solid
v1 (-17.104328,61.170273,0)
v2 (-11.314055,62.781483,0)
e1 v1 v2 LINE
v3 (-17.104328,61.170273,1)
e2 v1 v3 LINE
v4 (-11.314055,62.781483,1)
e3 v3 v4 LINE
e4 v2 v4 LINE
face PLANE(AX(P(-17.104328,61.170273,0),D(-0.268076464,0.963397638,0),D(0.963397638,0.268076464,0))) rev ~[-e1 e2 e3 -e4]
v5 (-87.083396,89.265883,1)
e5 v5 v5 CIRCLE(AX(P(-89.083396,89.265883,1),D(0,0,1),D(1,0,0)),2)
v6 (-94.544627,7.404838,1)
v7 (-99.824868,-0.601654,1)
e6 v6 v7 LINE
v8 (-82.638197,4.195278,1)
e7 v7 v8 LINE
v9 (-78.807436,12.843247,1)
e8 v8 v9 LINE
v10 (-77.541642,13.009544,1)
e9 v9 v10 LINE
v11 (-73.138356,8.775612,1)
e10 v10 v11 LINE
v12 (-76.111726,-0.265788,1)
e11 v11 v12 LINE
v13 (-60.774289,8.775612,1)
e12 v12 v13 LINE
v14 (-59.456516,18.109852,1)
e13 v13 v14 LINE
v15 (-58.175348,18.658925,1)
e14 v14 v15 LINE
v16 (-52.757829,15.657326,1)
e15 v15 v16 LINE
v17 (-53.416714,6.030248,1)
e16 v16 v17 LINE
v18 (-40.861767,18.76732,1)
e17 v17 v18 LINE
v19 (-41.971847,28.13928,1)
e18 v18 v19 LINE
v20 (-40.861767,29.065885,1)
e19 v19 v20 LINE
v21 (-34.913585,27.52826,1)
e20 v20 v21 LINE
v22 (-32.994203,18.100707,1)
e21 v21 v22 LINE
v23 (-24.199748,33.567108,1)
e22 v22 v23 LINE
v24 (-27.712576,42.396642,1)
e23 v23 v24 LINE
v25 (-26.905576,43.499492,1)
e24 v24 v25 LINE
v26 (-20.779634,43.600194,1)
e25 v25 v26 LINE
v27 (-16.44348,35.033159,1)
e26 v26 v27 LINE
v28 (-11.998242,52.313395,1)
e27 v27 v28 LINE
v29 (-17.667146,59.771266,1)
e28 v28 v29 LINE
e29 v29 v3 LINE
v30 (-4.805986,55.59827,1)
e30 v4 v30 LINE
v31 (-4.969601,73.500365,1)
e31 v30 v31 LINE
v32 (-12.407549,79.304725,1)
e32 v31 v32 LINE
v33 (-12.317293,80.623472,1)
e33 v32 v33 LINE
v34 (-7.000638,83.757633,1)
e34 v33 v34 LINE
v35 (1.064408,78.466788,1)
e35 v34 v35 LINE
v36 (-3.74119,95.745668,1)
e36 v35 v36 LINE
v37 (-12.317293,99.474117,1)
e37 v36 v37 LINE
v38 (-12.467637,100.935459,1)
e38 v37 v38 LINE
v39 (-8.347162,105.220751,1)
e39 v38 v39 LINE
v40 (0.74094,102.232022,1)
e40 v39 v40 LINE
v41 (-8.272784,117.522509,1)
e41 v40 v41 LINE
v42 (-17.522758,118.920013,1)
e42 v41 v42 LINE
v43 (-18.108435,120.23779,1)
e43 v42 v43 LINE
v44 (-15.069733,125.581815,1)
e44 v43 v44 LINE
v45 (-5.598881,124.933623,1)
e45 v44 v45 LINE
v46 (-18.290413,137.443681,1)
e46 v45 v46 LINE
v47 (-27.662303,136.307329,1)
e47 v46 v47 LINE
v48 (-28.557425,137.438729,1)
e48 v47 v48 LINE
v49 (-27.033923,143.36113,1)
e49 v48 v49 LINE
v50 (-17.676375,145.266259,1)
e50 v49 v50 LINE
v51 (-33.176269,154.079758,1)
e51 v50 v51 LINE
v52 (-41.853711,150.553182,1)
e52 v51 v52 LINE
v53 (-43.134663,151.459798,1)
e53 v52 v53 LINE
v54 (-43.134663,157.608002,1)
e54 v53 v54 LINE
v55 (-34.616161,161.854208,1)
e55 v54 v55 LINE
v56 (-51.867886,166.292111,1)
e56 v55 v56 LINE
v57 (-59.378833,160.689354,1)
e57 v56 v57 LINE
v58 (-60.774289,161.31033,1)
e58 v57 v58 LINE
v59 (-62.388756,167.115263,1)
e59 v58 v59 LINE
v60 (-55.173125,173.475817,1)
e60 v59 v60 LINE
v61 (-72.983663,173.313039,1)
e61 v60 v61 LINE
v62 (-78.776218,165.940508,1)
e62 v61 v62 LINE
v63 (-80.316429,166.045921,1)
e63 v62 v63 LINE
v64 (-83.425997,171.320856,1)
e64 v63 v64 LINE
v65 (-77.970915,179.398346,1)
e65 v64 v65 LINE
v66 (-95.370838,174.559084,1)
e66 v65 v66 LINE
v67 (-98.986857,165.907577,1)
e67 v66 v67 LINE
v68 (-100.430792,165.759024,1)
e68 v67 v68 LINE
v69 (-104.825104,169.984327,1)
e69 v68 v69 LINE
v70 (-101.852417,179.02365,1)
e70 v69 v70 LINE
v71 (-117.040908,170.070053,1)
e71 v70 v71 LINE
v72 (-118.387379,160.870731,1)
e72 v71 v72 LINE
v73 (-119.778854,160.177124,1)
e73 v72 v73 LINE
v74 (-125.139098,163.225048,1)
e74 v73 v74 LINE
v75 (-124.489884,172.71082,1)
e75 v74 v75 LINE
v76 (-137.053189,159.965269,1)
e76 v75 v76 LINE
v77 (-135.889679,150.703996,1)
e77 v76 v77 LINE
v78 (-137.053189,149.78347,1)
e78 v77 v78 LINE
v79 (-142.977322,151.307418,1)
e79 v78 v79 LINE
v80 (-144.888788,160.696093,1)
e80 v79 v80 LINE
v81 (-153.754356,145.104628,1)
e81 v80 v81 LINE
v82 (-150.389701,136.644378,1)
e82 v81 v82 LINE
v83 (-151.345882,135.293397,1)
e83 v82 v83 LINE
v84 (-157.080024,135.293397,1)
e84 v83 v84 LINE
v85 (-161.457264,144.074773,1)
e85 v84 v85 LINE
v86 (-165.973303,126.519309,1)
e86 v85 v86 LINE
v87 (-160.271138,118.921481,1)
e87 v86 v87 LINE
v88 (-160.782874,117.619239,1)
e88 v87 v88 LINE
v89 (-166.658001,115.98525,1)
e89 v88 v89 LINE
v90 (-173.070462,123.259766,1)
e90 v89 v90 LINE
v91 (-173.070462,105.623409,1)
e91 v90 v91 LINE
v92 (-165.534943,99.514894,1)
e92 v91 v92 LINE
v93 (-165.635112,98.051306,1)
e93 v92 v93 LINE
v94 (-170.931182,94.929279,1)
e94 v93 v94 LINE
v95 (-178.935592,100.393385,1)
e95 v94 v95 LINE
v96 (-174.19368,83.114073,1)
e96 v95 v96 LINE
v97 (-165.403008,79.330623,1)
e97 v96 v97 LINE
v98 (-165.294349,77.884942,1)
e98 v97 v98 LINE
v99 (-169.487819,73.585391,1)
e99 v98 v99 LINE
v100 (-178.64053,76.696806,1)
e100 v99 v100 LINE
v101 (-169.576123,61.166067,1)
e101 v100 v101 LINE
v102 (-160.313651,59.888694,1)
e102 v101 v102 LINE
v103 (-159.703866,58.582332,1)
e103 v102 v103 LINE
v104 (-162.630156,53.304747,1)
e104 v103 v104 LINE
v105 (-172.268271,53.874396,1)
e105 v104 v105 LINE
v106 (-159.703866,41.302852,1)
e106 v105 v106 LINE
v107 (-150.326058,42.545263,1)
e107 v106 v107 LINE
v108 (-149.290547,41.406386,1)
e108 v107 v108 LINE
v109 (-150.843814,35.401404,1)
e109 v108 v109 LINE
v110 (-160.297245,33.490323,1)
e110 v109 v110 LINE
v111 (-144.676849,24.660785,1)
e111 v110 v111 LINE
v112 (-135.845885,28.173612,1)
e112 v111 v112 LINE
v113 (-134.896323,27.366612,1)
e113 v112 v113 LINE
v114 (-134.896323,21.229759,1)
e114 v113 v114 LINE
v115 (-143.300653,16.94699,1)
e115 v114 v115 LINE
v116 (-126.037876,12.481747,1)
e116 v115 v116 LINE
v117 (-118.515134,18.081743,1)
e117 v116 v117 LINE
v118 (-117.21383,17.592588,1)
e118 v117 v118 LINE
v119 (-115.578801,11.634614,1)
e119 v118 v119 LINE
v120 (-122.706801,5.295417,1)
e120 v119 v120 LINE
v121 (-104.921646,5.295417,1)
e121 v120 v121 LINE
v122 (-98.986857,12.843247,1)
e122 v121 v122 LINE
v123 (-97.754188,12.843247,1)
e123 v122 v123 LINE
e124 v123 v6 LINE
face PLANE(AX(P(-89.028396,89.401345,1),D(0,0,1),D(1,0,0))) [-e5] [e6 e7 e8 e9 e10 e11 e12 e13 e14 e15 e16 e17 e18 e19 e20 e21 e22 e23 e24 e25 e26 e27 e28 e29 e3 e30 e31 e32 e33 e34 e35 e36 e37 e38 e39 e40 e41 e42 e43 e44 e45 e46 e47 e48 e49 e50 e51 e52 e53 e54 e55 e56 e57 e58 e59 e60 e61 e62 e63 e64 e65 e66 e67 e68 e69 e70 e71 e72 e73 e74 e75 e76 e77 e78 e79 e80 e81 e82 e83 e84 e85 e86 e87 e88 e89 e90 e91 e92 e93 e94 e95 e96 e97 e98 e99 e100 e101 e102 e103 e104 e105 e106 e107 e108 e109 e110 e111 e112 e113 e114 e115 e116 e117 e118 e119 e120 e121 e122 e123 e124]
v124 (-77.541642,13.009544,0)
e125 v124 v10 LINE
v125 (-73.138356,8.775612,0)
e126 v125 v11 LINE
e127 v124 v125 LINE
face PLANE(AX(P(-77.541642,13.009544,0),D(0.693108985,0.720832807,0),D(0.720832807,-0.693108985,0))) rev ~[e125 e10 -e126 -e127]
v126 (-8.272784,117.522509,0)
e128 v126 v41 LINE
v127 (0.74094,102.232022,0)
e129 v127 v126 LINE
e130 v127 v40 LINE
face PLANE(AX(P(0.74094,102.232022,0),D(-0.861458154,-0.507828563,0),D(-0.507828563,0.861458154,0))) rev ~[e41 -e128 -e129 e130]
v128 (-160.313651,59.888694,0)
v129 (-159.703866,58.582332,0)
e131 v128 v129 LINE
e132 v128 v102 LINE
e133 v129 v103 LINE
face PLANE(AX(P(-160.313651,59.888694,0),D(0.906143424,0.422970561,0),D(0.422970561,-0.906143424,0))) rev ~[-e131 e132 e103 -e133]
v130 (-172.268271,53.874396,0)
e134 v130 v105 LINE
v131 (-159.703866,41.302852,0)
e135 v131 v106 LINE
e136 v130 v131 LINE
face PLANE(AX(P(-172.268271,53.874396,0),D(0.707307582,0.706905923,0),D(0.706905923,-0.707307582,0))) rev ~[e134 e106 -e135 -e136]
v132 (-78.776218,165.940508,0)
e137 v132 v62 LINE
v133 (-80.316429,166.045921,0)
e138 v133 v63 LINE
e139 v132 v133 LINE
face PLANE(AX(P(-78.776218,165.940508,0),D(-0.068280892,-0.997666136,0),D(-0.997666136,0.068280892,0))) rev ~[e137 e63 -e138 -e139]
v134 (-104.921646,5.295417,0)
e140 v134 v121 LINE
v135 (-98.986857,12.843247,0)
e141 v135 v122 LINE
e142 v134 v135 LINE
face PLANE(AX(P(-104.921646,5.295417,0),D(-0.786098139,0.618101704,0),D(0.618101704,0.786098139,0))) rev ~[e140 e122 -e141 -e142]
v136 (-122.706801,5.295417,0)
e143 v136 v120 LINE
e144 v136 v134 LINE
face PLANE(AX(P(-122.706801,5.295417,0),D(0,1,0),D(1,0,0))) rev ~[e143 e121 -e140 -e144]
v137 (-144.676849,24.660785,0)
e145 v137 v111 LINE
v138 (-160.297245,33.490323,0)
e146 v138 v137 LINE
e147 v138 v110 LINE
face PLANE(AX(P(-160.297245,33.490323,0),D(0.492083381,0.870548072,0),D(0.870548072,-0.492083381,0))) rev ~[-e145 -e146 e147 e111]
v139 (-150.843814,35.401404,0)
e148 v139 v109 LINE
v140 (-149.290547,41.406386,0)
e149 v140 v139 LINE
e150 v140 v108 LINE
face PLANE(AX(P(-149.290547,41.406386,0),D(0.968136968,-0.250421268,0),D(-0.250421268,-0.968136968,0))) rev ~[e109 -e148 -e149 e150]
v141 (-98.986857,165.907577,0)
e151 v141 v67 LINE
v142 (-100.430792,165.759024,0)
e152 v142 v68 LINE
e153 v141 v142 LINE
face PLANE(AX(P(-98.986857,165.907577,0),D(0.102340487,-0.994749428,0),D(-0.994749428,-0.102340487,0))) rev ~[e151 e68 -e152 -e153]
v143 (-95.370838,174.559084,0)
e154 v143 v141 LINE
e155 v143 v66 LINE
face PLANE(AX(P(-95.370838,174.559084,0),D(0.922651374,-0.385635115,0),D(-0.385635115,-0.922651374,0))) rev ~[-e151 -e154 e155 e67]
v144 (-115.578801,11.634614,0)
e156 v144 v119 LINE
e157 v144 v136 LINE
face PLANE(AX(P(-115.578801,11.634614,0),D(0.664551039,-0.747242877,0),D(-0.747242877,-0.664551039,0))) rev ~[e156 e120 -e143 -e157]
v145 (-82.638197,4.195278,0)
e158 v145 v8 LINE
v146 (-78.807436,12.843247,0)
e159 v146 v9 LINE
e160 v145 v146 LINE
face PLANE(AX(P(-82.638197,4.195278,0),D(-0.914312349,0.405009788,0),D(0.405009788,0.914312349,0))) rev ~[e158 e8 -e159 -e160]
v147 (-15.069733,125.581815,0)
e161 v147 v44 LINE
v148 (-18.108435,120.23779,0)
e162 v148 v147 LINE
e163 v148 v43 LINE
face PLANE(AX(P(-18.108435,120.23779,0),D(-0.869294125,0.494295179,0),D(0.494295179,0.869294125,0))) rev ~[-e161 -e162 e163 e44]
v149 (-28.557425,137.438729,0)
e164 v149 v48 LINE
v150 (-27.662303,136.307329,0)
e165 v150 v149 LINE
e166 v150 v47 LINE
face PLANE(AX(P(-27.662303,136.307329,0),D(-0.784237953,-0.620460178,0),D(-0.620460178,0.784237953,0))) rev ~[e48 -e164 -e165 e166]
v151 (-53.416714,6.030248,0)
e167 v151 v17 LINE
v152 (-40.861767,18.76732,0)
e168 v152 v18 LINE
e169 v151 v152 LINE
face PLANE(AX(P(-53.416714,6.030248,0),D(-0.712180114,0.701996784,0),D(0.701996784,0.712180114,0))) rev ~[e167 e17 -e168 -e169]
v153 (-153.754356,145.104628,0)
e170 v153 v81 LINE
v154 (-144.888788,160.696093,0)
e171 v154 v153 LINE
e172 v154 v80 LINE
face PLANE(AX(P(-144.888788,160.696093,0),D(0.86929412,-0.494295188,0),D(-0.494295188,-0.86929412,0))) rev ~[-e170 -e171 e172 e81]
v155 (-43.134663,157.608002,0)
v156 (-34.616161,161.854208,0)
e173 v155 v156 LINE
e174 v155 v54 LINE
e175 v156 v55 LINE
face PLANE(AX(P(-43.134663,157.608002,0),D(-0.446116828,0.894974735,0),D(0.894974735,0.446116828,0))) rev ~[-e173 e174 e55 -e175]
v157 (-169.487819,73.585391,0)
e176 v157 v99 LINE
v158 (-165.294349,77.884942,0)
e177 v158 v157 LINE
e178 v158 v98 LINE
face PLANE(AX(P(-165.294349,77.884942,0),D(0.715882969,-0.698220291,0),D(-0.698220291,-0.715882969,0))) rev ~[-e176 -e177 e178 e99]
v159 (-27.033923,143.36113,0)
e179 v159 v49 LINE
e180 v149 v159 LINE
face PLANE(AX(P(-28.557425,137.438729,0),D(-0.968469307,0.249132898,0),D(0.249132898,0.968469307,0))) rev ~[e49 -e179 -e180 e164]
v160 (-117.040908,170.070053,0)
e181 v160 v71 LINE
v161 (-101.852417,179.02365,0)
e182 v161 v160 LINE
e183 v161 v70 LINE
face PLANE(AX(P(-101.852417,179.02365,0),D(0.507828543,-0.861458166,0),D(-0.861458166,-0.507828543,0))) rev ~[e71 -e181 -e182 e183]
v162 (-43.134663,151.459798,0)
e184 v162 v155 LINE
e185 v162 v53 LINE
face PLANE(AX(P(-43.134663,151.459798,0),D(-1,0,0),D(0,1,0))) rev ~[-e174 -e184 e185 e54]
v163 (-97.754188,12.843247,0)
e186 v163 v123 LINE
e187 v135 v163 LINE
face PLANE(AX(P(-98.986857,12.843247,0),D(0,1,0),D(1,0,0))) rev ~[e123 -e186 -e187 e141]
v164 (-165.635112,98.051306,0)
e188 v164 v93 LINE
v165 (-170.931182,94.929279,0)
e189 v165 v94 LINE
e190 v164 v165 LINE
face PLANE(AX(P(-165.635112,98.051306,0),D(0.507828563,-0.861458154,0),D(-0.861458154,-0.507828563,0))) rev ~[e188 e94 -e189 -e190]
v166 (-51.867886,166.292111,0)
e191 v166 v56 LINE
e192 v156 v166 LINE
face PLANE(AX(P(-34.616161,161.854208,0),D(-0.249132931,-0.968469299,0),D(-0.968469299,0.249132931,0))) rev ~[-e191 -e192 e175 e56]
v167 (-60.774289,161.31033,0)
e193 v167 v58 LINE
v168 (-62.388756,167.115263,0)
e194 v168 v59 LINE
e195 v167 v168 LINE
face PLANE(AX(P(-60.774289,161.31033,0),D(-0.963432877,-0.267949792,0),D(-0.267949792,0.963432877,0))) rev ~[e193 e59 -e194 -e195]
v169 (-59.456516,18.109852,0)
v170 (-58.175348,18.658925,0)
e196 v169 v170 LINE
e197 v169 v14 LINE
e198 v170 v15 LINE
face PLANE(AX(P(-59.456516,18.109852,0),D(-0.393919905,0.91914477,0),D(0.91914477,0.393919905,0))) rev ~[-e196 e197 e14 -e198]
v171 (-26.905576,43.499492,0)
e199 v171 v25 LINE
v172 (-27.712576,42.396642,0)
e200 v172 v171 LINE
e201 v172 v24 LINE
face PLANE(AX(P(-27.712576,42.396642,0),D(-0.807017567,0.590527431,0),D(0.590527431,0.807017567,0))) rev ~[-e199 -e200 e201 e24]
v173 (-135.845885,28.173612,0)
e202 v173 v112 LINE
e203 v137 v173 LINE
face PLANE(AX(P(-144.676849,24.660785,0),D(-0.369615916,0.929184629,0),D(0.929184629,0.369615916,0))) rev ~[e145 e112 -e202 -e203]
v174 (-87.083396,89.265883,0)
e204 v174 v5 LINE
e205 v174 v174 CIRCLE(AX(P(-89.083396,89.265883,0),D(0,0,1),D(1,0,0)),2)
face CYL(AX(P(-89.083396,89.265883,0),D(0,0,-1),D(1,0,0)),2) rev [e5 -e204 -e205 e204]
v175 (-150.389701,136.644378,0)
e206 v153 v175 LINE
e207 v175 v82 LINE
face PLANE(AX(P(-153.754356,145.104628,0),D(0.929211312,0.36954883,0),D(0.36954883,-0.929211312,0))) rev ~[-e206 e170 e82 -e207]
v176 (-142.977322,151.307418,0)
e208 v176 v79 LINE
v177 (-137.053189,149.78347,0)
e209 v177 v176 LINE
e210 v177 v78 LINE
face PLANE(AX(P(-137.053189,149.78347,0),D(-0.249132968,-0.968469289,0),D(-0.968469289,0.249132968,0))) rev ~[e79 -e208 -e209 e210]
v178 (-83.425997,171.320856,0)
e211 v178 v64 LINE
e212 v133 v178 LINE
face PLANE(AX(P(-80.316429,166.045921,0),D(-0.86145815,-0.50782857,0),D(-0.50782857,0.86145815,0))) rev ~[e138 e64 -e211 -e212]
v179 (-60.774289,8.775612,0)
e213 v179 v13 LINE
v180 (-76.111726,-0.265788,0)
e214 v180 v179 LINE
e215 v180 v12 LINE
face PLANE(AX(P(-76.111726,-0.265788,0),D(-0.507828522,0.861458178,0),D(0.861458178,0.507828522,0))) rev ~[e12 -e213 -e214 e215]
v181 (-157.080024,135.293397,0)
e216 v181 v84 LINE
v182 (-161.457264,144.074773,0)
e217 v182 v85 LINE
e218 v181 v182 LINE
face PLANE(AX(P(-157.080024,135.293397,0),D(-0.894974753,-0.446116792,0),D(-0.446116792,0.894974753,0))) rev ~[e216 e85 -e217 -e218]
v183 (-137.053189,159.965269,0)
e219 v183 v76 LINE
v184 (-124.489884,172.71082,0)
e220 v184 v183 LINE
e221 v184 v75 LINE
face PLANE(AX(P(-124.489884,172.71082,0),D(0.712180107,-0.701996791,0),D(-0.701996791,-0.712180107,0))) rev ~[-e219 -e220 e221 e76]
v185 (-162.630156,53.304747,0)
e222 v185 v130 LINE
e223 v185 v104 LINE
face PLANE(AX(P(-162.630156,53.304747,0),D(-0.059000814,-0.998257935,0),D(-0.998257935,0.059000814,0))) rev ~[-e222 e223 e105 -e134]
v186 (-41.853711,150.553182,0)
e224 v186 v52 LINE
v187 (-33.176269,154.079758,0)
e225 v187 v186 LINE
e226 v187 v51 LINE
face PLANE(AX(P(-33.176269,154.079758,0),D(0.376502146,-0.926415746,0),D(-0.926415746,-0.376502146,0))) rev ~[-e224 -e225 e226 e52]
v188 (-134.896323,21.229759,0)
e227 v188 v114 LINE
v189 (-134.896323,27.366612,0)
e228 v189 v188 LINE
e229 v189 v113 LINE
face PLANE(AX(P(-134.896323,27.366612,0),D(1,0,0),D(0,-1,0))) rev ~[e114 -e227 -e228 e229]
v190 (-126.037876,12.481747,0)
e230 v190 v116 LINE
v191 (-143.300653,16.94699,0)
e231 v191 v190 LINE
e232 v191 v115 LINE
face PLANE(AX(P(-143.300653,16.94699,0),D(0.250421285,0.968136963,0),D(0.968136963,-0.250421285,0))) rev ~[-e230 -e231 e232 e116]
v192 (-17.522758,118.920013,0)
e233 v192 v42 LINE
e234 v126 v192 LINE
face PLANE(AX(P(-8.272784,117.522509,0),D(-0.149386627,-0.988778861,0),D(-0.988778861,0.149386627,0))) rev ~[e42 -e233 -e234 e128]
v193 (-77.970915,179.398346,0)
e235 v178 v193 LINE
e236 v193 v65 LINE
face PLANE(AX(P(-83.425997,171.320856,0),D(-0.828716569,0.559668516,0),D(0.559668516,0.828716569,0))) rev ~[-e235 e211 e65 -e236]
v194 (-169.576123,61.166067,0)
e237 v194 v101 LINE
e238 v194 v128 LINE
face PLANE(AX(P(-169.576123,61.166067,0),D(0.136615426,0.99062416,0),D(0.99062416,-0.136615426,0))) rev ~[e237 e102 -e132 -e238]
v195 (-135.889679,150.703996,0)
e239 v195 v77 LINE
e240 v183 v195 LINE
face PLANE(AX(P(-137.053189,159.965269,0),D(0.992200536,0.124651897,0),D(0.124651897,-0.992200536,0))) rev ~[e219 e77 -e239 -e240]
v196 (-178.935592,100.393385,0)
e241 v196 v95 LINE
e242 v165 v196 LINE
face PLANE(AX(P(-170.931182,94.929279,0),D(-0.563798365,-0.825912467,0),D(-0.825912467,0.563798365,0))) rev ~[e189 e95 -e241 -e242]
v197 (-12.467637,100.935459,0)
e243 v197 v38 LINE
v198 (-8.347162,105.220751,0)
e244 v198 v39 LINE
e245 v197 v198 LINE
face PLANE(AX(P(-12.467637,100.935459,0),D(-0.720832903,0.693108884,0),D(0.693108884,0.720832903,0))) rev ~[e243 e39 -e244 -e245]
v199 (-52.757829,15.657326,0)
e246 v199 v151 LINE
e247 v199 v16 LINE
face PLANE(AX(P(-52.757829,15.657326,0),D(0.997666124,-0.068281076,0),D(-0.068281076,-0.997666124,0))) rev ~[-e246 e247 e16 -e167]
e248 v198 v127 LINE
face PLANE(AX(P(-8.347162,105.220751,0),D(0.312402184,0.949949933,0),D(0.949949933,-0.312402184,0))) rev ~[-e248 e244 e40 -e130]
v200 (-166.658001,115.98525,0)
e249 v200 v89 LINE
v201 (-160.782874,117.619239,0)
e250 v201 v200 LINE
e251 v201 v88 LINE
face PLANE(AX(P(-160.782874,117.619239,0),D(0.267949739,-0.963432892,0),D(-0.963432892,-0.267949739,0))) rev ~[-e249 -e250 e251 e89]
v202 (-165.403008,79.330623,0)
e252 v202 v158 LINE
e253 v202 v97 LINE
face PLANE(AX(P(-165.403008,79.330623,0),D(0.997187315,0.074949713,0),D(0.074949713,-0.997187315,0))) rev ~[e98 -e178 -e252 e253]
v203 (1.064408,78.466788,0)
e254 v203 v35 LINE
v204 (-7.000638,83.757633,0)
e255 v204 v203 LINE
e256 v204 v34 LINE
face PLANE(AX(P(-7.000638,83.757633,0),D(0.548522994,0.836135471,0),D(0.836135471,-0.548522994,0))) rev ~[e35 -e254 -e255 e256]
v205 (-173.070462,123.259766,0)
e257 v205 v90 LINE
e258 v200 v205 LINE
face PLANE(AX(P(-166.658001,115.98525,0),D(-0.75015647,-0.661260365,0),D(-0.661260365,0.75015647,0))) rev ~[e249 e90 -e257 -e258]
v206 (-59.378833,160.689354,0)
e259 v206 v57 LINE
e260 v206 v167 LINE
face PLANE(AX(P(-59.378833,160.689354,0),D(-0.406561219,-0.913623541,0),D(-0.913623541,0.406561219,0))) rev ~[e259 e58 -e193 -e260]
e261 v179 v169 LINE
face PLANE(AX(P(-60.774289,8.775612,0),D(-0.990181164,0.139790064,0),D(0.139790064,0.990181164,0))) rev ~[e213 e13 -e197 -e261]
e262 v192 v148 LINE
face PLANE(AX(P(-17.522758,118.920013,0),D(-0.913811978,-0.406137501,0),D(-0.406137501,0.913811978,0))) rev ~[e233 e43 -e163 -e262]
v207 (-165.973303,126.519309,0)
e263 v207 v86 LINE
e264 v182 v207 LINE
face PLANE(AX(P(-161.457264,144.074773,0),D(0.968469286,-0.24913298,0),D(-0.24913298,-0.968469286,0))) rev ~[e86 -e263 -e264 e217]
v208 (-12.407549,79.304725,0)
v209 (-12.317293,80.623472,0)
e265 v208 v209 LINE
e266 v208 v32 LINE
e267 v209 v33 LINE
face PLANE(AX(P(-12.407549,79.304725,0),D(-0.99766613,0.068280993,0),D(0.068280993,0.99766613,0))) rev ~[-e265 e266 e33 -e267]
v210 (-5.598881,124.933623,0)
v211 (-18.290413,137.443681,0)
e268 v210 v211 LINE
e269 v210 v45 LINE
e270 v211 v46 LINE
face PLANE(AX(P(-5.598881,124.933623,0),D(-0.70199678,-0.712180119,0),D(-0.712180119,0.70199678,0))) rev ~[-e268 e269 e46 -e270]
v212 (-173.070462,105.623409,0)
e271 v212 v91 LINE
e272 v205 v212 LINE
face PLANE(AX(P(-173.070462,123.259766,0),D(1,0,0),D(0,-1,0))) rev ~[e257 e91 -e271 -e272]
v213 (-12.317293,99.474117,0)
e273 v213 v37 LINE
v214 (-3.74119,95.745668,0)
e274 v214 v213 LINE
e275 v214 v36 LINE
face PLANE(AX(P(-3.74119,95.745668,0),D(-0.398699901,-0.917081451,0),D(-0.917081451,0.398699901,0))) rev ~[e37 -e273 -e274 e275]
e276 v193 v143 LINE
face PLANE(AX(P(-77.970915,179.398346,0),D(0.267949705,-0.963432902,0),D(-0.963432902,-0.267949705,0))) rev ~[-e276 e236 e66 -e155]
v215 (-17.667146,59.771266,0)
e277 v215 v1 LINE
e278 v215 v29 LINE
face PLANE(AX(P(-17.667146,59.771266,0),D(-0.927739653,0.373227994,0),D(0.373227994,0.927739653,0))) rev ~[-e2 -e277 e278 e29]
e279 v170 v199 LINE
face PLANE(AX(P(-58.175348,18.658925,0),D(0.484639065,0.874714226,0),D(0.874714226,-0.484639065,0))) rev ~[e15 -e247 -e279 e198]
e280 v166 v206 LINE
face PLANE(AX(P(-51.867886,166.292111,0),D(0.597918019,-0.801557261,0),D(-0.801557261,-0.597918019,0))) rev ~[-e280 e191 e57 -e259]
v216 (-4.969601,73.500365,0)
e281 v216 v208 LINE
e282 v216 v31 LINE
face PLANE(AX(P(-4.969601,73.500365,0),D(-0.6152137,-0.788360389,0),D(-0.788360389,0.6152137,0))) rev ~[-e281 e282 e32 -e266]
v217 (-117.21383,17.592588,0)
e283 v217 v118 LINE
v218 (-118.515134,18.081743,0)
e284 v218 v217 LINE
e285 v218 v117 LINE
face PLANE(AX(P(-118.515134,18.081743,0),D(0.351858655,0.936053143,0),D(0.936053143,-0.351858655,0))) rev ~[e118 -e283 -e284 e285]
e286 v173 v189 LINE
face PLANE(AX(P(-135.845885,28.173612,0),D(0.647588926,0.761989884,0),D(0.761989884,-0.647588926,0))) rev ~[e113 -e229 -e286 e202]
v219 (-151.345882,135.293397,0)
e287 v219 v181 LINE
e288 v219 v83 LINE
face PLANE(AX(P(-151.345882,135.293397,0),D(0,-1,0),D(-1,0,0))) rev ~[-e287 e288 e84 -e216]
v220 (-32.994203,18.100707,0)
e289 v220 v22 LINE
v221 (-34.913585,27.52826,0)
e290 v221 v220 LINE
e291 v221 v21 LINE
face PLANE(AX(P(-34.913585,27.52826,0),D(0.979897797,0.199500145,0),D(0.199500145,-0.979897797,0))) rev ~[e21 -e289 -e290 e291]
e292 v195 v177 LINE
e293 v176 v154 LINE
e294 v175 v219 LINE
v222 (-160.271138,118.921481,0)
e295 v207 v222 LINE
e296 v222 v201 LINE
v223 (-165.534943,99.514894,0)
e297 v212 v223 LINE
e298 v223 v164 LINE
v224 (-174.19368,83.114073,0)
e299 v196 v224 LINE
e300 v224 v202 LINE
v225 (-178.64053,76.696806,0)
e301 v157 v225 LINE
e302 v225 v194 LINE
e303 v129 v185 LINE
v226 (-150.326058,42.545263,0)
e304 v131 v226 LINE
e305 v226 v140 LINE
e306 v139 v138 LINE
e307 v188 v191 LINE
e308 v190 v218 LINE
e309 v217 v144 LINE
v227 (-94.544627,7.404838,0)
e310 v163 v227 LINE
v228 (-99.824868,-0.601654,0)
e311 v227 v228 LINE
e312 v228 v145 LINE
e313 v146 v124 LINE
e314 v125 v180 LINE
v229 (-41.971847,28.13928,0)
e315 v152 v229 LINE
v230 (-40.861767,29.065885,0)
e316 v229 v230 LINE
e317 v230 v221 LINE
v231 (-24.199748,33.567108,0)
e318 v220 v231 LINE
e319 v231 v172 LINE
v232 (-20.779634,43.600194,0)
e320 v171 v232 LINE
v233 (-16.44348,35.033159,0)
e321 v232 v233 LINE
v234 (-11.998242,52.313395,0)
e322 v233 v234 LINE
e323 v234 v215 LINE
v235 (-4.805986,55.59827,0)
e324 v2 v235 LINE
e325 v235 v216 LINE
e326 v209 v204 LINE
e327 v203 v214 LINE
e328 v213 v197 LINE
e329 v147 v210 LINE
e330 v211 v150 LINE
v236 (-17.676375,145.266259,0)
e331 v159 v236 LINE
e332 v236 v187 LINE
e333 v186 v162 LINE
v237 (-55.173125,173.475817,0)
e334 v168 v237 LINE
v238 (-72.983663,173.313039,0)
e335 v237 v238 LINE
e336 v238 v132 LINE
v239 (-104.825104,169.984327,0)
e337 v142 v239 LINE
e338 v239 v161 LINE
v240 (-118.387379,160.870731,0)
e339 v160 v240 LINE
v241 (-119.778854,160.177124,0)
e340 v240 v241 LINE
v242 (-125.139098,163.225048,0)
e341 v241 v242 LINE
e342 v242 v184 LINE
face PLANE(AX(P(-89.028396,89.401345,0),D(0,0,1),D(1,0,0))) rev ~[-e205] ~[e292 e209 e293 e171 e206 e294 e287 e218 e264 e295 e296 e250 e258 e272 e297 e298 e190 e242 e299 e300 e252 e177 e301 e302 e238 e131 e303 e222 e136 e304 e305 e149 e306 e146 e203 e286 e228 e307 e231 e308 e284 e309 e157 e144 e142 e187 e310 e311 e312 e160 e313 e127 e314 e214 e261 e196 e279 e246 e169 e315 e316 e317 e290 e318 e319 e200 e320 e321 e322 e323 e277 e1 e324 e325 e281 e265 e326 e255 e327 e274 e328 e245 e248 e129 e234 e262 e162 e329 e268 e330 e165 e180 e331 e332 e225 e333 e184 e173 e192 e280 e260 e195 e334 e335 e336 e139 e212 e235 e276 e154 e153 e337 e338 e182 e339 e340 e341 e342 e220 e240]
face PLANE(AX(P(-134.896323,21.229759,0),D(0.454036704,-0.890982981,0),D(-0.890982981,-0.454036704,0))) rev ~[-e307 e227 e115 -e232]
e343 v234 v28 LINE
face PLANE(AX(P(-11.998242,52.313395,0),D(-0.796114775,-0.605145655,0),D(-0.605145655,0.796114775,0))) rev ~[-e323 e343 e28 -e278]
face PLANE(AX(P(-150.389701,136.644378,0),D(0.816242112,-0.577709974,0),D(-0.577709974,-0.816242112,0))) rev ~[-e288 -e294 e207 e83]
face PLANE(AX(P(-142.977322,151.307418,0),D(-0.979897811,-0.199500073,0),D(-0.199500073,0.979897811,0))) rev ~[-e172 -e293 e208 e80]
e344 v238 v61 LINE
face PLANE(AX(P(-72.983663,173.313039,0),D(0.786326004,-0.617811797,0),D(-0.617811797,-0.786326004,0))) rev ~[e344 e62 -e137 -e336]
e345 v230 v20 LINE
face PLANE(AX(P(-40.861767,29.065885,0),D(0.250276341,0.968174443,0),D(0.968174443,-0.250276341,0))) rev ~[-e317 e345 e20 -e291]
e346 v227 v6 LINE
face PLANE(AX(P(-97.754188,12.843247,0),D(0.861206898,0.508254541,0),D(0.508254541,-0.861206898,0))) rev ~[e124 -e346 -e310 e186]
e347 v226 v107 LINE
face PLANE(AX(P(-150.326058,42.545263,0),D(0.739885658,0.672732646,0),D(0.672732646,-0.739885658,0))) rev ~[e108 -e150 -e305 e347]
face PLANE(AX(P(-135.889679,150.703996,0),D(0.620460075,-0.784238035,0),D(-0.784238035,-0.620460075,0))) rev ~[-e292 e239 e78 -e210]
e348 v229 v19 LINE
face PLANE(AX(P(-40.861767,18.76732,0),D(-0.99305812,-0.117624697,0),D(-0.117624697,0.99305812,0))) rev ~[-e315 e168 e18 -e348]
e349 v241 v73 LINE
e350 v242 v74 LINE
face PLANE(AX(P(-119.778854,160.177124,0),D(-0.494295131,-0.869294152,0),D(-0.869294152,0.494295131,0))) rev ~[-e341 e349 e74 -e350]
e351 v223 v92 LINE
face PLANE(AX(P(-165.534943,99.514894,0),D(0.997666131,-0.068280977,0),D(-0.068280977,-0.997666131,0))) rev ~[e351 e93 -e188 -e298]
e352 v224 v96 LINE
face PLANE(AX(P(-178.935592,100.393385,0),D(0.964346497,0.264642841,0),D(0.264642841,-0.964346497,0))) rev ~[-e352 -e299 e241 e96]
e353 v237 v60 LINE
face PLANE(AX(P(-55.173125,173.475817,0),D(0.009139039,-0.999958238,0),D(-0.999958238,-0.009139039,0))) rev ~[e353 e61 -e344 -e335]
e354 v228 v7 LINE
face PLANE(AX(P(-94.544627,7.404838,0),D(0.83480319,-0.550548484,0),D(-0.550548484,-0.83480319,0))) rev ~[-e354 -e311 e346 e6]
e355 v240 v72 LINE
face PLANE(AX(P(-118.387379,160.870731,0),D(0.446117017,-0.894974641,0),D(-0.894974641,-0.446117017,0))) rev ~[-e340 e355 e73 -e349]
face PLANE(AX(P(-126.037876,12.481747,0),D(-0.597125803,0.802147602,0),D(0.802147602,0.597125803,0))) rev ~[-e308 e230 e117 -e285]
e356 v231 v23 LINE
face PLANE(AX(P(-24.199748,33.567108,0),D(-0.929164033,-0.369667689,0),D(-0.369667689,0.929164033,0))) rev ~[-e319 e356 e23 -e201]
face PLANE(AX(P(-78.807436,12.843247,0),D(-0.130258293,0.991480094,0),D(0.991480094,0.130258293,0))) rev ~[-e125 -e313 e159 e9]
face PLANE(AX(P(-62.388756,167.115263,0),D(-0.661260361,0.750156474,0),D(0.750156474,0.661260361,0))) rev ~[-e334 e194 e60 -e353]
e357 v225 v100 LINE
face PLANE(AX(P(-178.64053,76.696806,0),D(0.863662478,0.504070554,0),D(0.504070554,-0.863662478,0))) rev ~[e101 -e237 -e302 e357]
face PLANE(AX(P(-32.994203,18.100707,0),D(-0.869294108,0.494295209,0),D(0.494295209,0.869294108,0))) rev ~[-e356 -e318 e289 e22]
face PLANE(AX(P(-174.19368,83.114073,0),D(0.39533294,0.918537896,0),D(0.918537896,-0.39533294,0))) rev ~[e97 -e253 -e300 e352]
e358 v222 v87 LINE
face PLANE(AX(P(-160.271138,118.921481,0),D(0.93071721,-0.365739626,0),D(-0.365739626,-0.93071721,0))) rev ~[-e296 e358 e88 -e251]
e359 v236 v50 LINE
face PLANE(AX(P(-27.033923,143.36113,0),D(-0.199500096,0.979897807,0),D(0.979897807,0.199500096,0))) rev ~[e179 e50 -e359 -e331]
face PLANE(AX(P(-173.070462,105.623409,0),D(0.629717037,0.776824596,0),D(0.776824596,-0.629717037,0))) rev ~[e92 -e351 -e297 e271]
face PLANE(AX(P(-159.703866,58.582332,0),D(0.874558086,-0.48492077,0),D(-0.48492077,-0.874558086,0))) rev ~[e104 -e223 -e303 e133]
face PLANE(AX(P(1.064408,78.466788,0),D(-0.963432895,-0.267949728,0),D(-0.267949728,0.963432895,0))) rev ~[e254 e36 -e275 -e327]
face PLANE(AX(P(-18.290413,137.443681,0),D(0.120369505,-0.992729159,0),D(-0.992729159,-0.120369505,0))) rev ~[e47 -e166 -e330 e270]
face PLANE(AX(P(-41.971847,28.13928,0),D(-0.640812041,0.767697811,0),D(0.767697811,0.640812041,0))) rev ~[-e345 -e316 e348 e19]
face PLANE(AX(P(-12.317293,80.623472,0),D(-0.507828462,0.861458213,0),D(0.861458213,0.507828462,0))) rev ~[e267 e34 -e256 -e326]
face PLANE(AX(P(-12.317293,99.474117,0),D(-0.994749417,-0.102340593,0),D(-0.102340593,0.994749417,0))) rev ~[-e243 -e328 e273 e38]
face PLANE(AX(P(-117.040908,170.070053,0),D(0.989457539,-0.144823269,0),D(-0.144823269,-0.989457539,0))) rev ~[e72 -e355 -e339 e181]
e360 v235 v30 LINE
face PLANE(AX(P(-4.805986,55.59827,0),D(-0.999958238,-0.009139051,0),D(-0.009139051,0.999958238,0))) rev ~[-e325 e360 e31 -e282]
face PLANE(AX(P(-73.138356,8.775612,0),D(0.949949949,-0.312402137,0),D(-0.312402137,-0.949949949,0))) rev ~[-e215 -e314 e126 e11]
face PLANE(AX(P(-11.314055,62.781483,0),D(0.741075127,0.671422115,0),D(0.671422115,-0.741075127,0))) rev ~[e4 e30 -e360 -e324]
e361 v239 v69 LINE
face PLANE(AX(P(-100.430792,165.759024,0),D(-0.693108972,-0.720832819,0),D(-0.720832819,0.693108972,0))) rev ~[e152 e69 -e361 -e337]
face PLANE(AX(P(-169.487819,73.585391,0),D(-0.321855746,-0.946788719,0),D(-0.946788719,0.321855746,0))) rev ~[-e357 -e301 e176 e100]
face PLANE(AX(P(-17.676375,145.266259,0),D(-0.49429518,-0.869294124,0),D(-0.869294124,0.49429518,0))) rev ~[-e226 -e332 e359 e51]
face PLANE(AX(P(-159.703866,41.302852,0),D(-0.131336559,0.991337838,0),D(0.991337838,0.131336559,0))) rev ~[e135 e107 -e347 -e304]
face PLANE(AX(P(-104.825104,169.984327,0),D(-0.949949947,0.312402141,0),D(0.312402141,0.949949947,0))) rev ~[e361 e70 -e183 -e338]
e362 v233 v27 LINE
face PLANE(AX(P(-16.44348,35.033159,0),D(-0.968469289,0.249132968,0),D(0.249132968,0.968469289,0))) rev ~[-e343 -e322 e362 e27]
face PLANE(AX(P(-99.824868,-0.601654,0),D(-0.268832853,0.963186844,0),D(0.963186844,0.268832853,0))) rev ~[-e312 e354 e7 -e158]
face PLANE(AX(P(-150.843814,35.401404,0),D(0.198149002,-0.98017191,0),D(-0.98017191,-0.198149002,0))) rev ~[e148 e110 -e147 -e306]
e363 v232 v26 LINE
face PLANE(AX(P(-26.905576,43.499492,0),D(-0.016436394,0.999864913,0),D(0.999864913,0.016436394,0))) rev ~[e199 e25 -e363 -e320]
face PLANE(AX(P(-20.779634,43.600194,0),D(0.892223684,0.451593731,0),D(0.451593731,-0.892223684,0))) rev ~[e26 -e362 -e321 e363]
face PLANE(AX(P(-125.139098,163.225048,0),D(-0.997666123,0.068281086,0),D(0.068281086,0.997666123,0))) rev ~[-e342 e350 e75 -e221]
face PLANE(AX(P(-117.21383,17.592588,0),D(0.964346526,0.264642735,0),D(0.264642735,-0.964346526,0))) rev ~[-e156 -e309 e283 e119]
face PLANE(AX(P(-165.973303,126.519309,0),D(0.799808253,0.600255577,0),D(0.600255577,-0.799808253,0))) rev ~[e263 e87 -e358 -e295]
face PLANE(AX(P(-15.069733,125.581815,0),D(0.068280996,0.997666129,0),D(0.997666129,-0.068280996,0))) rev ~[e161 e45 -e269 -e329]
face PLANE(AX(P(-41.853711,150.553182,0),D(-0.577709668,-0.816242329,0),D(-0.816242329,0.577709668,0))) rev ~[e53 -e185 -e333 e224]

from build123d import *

# Parameters (mm, degrees)
F0_R     = 2
F1_DEPTH = 1


with BuildPart() as f1:
    # F0 (on Top) → F1 (new body)
    with BuildSketch(Plane.XY):
        Polygon((-170.931182, 94.929279), (-178.935592, 100.393385), (-174.19368, 83.114073), (-165.403008, 79.330623), (-165.294349, 77.884942), (-169.487819, 73.585391), (-178.64053, 76.696806), (-169.576123, 61.166067), (-160.313651, 59.888694), (-159.703866, 58.582332), (-162.630156, 53.304747), (-172.268271, 53.874396), (-159.703866, 41.302852), (-150.326058, 42.545263), (-149.290547, 41.406386), (-150.843814, 35.401404), (-160.297245, 33.490323), (-144.676849, 24.660785), (-135.845885, 28.173612), (-134.896323, 27.366612), (-134.896323, 21.229759), (-143.300653, 16.94699), (-126.037876, 12.481747), (-118.515134, 18.081743), (-117.21383, 17.592588), (-115.578801, 11.634614), (-122.706801, 5.295417), (-104.921646, 5.295417), (-98.986857, 12.843247), (-97.754188, 12.843247), (-94.544627, 7.404838), (-99.824868, -0.601654), (-82.638197, 4.195278), (-78.807436, 12.843247), (-77.541642, 13.009544), (-73.138356, 8.775612), (-76.111726, -0.265788), (-60.774289, 8.775612), (-59.456516, 18.109852), (-58.175348, 18.658925), (-52.757829, 15.657326), (-53.416714, 6.030248), (-40.861767, 18.76732), (-41.971847, 28.13928), (-40.861767, 29.065885), (-34.913585, 27.52826), (-32.994203, 18.100707), (-24.199748, 33.567108), (-27.712576, 42.396642), (-26.905576, 43.499492), (-20.779634, 43.600194), (-16.44348, 35.033159), (-11.998242, 52.313395), (-17.667146, 59.771266), (-17.104328, 61.170273), (-11.314055, 62.781483), (-4.805986, 55.59827), (-4.969601, 73.500365), (-12.407549, 79.304725), (-12.317293, 80.623472), (-7.000638, 83.757633), (1.064408, 78.466788), (-3.74119, 95.745668), (-12.317293, 99.474117), (-12.467637, 100.935459), (-8.347162, 105.220751), (0.74094, 102.232022), (-8.272784, 117.522509), (-17.522758, 118.920013), (-18.108435, 120.23779), (-15.069733, 125.581815), (-5.598881, 124.933623), (-18.290413, 137.443681), (-27.662303, 136.307329), (-28.557425, 137.438729), (-27.033923, 143.36113), (-17.676375, 145.266259), (-33.176269, 154.079758), (-41.853711, 150.553182), (-43.134663, 151.459798), (-43.134663, 157.608002), (-34.616161, 161.854208), (-51.867886, 166.292111), (-59.378833, 160.689354), (-60.774289, 161.31033), (-62.388756, 167.115263), (-55.173125, 173.475817), (-72.983663, 173.313039), (-78.776218, 165.940508), (-80.316429, 166.045921), (-83.425997, 171.320856), (-77.970915, 179.398346), (-95.370838, 174.559084), (-98.986857, 165.907577), (-100.430792, 165.759024), (-104.825104, 169.984327), (-101.852417, 179.02365), (-117.040908, 170.070053), (-118.387379, 160.870731), (-119.778854, 160.177124), (-125.139098, 163.225048), (-124.489884, 172.71082), (-137.053189, 159.965269), (-135.889679, 150.703996), (-137.053189, 149.78347), (-142.977322, 151.307418), (-144.888788, 160.696093), (-153.754356, 145.104628), (-150.389701, 136.644378), (-151.345882, 135.293397), (-157.080024, 135.293397), (-161.457264, 144.074773), (-165.973303, 126.519309), (-160.271138, 118.921481), (-160.782874, 117.619239), (-166.658001, 115.98525), (-173.070462, 123.259766), (-173.070462, 105.623409), (-165.534943, 99.514894), (-165.635112, 98.051306), align=None)
        with Locations((-89.083396, 89.265883)):
            Circle(F0_R, mode=Mode.SUBTRACT)
    extrude(amount=F1_DEPTH)


solid = f1.part
